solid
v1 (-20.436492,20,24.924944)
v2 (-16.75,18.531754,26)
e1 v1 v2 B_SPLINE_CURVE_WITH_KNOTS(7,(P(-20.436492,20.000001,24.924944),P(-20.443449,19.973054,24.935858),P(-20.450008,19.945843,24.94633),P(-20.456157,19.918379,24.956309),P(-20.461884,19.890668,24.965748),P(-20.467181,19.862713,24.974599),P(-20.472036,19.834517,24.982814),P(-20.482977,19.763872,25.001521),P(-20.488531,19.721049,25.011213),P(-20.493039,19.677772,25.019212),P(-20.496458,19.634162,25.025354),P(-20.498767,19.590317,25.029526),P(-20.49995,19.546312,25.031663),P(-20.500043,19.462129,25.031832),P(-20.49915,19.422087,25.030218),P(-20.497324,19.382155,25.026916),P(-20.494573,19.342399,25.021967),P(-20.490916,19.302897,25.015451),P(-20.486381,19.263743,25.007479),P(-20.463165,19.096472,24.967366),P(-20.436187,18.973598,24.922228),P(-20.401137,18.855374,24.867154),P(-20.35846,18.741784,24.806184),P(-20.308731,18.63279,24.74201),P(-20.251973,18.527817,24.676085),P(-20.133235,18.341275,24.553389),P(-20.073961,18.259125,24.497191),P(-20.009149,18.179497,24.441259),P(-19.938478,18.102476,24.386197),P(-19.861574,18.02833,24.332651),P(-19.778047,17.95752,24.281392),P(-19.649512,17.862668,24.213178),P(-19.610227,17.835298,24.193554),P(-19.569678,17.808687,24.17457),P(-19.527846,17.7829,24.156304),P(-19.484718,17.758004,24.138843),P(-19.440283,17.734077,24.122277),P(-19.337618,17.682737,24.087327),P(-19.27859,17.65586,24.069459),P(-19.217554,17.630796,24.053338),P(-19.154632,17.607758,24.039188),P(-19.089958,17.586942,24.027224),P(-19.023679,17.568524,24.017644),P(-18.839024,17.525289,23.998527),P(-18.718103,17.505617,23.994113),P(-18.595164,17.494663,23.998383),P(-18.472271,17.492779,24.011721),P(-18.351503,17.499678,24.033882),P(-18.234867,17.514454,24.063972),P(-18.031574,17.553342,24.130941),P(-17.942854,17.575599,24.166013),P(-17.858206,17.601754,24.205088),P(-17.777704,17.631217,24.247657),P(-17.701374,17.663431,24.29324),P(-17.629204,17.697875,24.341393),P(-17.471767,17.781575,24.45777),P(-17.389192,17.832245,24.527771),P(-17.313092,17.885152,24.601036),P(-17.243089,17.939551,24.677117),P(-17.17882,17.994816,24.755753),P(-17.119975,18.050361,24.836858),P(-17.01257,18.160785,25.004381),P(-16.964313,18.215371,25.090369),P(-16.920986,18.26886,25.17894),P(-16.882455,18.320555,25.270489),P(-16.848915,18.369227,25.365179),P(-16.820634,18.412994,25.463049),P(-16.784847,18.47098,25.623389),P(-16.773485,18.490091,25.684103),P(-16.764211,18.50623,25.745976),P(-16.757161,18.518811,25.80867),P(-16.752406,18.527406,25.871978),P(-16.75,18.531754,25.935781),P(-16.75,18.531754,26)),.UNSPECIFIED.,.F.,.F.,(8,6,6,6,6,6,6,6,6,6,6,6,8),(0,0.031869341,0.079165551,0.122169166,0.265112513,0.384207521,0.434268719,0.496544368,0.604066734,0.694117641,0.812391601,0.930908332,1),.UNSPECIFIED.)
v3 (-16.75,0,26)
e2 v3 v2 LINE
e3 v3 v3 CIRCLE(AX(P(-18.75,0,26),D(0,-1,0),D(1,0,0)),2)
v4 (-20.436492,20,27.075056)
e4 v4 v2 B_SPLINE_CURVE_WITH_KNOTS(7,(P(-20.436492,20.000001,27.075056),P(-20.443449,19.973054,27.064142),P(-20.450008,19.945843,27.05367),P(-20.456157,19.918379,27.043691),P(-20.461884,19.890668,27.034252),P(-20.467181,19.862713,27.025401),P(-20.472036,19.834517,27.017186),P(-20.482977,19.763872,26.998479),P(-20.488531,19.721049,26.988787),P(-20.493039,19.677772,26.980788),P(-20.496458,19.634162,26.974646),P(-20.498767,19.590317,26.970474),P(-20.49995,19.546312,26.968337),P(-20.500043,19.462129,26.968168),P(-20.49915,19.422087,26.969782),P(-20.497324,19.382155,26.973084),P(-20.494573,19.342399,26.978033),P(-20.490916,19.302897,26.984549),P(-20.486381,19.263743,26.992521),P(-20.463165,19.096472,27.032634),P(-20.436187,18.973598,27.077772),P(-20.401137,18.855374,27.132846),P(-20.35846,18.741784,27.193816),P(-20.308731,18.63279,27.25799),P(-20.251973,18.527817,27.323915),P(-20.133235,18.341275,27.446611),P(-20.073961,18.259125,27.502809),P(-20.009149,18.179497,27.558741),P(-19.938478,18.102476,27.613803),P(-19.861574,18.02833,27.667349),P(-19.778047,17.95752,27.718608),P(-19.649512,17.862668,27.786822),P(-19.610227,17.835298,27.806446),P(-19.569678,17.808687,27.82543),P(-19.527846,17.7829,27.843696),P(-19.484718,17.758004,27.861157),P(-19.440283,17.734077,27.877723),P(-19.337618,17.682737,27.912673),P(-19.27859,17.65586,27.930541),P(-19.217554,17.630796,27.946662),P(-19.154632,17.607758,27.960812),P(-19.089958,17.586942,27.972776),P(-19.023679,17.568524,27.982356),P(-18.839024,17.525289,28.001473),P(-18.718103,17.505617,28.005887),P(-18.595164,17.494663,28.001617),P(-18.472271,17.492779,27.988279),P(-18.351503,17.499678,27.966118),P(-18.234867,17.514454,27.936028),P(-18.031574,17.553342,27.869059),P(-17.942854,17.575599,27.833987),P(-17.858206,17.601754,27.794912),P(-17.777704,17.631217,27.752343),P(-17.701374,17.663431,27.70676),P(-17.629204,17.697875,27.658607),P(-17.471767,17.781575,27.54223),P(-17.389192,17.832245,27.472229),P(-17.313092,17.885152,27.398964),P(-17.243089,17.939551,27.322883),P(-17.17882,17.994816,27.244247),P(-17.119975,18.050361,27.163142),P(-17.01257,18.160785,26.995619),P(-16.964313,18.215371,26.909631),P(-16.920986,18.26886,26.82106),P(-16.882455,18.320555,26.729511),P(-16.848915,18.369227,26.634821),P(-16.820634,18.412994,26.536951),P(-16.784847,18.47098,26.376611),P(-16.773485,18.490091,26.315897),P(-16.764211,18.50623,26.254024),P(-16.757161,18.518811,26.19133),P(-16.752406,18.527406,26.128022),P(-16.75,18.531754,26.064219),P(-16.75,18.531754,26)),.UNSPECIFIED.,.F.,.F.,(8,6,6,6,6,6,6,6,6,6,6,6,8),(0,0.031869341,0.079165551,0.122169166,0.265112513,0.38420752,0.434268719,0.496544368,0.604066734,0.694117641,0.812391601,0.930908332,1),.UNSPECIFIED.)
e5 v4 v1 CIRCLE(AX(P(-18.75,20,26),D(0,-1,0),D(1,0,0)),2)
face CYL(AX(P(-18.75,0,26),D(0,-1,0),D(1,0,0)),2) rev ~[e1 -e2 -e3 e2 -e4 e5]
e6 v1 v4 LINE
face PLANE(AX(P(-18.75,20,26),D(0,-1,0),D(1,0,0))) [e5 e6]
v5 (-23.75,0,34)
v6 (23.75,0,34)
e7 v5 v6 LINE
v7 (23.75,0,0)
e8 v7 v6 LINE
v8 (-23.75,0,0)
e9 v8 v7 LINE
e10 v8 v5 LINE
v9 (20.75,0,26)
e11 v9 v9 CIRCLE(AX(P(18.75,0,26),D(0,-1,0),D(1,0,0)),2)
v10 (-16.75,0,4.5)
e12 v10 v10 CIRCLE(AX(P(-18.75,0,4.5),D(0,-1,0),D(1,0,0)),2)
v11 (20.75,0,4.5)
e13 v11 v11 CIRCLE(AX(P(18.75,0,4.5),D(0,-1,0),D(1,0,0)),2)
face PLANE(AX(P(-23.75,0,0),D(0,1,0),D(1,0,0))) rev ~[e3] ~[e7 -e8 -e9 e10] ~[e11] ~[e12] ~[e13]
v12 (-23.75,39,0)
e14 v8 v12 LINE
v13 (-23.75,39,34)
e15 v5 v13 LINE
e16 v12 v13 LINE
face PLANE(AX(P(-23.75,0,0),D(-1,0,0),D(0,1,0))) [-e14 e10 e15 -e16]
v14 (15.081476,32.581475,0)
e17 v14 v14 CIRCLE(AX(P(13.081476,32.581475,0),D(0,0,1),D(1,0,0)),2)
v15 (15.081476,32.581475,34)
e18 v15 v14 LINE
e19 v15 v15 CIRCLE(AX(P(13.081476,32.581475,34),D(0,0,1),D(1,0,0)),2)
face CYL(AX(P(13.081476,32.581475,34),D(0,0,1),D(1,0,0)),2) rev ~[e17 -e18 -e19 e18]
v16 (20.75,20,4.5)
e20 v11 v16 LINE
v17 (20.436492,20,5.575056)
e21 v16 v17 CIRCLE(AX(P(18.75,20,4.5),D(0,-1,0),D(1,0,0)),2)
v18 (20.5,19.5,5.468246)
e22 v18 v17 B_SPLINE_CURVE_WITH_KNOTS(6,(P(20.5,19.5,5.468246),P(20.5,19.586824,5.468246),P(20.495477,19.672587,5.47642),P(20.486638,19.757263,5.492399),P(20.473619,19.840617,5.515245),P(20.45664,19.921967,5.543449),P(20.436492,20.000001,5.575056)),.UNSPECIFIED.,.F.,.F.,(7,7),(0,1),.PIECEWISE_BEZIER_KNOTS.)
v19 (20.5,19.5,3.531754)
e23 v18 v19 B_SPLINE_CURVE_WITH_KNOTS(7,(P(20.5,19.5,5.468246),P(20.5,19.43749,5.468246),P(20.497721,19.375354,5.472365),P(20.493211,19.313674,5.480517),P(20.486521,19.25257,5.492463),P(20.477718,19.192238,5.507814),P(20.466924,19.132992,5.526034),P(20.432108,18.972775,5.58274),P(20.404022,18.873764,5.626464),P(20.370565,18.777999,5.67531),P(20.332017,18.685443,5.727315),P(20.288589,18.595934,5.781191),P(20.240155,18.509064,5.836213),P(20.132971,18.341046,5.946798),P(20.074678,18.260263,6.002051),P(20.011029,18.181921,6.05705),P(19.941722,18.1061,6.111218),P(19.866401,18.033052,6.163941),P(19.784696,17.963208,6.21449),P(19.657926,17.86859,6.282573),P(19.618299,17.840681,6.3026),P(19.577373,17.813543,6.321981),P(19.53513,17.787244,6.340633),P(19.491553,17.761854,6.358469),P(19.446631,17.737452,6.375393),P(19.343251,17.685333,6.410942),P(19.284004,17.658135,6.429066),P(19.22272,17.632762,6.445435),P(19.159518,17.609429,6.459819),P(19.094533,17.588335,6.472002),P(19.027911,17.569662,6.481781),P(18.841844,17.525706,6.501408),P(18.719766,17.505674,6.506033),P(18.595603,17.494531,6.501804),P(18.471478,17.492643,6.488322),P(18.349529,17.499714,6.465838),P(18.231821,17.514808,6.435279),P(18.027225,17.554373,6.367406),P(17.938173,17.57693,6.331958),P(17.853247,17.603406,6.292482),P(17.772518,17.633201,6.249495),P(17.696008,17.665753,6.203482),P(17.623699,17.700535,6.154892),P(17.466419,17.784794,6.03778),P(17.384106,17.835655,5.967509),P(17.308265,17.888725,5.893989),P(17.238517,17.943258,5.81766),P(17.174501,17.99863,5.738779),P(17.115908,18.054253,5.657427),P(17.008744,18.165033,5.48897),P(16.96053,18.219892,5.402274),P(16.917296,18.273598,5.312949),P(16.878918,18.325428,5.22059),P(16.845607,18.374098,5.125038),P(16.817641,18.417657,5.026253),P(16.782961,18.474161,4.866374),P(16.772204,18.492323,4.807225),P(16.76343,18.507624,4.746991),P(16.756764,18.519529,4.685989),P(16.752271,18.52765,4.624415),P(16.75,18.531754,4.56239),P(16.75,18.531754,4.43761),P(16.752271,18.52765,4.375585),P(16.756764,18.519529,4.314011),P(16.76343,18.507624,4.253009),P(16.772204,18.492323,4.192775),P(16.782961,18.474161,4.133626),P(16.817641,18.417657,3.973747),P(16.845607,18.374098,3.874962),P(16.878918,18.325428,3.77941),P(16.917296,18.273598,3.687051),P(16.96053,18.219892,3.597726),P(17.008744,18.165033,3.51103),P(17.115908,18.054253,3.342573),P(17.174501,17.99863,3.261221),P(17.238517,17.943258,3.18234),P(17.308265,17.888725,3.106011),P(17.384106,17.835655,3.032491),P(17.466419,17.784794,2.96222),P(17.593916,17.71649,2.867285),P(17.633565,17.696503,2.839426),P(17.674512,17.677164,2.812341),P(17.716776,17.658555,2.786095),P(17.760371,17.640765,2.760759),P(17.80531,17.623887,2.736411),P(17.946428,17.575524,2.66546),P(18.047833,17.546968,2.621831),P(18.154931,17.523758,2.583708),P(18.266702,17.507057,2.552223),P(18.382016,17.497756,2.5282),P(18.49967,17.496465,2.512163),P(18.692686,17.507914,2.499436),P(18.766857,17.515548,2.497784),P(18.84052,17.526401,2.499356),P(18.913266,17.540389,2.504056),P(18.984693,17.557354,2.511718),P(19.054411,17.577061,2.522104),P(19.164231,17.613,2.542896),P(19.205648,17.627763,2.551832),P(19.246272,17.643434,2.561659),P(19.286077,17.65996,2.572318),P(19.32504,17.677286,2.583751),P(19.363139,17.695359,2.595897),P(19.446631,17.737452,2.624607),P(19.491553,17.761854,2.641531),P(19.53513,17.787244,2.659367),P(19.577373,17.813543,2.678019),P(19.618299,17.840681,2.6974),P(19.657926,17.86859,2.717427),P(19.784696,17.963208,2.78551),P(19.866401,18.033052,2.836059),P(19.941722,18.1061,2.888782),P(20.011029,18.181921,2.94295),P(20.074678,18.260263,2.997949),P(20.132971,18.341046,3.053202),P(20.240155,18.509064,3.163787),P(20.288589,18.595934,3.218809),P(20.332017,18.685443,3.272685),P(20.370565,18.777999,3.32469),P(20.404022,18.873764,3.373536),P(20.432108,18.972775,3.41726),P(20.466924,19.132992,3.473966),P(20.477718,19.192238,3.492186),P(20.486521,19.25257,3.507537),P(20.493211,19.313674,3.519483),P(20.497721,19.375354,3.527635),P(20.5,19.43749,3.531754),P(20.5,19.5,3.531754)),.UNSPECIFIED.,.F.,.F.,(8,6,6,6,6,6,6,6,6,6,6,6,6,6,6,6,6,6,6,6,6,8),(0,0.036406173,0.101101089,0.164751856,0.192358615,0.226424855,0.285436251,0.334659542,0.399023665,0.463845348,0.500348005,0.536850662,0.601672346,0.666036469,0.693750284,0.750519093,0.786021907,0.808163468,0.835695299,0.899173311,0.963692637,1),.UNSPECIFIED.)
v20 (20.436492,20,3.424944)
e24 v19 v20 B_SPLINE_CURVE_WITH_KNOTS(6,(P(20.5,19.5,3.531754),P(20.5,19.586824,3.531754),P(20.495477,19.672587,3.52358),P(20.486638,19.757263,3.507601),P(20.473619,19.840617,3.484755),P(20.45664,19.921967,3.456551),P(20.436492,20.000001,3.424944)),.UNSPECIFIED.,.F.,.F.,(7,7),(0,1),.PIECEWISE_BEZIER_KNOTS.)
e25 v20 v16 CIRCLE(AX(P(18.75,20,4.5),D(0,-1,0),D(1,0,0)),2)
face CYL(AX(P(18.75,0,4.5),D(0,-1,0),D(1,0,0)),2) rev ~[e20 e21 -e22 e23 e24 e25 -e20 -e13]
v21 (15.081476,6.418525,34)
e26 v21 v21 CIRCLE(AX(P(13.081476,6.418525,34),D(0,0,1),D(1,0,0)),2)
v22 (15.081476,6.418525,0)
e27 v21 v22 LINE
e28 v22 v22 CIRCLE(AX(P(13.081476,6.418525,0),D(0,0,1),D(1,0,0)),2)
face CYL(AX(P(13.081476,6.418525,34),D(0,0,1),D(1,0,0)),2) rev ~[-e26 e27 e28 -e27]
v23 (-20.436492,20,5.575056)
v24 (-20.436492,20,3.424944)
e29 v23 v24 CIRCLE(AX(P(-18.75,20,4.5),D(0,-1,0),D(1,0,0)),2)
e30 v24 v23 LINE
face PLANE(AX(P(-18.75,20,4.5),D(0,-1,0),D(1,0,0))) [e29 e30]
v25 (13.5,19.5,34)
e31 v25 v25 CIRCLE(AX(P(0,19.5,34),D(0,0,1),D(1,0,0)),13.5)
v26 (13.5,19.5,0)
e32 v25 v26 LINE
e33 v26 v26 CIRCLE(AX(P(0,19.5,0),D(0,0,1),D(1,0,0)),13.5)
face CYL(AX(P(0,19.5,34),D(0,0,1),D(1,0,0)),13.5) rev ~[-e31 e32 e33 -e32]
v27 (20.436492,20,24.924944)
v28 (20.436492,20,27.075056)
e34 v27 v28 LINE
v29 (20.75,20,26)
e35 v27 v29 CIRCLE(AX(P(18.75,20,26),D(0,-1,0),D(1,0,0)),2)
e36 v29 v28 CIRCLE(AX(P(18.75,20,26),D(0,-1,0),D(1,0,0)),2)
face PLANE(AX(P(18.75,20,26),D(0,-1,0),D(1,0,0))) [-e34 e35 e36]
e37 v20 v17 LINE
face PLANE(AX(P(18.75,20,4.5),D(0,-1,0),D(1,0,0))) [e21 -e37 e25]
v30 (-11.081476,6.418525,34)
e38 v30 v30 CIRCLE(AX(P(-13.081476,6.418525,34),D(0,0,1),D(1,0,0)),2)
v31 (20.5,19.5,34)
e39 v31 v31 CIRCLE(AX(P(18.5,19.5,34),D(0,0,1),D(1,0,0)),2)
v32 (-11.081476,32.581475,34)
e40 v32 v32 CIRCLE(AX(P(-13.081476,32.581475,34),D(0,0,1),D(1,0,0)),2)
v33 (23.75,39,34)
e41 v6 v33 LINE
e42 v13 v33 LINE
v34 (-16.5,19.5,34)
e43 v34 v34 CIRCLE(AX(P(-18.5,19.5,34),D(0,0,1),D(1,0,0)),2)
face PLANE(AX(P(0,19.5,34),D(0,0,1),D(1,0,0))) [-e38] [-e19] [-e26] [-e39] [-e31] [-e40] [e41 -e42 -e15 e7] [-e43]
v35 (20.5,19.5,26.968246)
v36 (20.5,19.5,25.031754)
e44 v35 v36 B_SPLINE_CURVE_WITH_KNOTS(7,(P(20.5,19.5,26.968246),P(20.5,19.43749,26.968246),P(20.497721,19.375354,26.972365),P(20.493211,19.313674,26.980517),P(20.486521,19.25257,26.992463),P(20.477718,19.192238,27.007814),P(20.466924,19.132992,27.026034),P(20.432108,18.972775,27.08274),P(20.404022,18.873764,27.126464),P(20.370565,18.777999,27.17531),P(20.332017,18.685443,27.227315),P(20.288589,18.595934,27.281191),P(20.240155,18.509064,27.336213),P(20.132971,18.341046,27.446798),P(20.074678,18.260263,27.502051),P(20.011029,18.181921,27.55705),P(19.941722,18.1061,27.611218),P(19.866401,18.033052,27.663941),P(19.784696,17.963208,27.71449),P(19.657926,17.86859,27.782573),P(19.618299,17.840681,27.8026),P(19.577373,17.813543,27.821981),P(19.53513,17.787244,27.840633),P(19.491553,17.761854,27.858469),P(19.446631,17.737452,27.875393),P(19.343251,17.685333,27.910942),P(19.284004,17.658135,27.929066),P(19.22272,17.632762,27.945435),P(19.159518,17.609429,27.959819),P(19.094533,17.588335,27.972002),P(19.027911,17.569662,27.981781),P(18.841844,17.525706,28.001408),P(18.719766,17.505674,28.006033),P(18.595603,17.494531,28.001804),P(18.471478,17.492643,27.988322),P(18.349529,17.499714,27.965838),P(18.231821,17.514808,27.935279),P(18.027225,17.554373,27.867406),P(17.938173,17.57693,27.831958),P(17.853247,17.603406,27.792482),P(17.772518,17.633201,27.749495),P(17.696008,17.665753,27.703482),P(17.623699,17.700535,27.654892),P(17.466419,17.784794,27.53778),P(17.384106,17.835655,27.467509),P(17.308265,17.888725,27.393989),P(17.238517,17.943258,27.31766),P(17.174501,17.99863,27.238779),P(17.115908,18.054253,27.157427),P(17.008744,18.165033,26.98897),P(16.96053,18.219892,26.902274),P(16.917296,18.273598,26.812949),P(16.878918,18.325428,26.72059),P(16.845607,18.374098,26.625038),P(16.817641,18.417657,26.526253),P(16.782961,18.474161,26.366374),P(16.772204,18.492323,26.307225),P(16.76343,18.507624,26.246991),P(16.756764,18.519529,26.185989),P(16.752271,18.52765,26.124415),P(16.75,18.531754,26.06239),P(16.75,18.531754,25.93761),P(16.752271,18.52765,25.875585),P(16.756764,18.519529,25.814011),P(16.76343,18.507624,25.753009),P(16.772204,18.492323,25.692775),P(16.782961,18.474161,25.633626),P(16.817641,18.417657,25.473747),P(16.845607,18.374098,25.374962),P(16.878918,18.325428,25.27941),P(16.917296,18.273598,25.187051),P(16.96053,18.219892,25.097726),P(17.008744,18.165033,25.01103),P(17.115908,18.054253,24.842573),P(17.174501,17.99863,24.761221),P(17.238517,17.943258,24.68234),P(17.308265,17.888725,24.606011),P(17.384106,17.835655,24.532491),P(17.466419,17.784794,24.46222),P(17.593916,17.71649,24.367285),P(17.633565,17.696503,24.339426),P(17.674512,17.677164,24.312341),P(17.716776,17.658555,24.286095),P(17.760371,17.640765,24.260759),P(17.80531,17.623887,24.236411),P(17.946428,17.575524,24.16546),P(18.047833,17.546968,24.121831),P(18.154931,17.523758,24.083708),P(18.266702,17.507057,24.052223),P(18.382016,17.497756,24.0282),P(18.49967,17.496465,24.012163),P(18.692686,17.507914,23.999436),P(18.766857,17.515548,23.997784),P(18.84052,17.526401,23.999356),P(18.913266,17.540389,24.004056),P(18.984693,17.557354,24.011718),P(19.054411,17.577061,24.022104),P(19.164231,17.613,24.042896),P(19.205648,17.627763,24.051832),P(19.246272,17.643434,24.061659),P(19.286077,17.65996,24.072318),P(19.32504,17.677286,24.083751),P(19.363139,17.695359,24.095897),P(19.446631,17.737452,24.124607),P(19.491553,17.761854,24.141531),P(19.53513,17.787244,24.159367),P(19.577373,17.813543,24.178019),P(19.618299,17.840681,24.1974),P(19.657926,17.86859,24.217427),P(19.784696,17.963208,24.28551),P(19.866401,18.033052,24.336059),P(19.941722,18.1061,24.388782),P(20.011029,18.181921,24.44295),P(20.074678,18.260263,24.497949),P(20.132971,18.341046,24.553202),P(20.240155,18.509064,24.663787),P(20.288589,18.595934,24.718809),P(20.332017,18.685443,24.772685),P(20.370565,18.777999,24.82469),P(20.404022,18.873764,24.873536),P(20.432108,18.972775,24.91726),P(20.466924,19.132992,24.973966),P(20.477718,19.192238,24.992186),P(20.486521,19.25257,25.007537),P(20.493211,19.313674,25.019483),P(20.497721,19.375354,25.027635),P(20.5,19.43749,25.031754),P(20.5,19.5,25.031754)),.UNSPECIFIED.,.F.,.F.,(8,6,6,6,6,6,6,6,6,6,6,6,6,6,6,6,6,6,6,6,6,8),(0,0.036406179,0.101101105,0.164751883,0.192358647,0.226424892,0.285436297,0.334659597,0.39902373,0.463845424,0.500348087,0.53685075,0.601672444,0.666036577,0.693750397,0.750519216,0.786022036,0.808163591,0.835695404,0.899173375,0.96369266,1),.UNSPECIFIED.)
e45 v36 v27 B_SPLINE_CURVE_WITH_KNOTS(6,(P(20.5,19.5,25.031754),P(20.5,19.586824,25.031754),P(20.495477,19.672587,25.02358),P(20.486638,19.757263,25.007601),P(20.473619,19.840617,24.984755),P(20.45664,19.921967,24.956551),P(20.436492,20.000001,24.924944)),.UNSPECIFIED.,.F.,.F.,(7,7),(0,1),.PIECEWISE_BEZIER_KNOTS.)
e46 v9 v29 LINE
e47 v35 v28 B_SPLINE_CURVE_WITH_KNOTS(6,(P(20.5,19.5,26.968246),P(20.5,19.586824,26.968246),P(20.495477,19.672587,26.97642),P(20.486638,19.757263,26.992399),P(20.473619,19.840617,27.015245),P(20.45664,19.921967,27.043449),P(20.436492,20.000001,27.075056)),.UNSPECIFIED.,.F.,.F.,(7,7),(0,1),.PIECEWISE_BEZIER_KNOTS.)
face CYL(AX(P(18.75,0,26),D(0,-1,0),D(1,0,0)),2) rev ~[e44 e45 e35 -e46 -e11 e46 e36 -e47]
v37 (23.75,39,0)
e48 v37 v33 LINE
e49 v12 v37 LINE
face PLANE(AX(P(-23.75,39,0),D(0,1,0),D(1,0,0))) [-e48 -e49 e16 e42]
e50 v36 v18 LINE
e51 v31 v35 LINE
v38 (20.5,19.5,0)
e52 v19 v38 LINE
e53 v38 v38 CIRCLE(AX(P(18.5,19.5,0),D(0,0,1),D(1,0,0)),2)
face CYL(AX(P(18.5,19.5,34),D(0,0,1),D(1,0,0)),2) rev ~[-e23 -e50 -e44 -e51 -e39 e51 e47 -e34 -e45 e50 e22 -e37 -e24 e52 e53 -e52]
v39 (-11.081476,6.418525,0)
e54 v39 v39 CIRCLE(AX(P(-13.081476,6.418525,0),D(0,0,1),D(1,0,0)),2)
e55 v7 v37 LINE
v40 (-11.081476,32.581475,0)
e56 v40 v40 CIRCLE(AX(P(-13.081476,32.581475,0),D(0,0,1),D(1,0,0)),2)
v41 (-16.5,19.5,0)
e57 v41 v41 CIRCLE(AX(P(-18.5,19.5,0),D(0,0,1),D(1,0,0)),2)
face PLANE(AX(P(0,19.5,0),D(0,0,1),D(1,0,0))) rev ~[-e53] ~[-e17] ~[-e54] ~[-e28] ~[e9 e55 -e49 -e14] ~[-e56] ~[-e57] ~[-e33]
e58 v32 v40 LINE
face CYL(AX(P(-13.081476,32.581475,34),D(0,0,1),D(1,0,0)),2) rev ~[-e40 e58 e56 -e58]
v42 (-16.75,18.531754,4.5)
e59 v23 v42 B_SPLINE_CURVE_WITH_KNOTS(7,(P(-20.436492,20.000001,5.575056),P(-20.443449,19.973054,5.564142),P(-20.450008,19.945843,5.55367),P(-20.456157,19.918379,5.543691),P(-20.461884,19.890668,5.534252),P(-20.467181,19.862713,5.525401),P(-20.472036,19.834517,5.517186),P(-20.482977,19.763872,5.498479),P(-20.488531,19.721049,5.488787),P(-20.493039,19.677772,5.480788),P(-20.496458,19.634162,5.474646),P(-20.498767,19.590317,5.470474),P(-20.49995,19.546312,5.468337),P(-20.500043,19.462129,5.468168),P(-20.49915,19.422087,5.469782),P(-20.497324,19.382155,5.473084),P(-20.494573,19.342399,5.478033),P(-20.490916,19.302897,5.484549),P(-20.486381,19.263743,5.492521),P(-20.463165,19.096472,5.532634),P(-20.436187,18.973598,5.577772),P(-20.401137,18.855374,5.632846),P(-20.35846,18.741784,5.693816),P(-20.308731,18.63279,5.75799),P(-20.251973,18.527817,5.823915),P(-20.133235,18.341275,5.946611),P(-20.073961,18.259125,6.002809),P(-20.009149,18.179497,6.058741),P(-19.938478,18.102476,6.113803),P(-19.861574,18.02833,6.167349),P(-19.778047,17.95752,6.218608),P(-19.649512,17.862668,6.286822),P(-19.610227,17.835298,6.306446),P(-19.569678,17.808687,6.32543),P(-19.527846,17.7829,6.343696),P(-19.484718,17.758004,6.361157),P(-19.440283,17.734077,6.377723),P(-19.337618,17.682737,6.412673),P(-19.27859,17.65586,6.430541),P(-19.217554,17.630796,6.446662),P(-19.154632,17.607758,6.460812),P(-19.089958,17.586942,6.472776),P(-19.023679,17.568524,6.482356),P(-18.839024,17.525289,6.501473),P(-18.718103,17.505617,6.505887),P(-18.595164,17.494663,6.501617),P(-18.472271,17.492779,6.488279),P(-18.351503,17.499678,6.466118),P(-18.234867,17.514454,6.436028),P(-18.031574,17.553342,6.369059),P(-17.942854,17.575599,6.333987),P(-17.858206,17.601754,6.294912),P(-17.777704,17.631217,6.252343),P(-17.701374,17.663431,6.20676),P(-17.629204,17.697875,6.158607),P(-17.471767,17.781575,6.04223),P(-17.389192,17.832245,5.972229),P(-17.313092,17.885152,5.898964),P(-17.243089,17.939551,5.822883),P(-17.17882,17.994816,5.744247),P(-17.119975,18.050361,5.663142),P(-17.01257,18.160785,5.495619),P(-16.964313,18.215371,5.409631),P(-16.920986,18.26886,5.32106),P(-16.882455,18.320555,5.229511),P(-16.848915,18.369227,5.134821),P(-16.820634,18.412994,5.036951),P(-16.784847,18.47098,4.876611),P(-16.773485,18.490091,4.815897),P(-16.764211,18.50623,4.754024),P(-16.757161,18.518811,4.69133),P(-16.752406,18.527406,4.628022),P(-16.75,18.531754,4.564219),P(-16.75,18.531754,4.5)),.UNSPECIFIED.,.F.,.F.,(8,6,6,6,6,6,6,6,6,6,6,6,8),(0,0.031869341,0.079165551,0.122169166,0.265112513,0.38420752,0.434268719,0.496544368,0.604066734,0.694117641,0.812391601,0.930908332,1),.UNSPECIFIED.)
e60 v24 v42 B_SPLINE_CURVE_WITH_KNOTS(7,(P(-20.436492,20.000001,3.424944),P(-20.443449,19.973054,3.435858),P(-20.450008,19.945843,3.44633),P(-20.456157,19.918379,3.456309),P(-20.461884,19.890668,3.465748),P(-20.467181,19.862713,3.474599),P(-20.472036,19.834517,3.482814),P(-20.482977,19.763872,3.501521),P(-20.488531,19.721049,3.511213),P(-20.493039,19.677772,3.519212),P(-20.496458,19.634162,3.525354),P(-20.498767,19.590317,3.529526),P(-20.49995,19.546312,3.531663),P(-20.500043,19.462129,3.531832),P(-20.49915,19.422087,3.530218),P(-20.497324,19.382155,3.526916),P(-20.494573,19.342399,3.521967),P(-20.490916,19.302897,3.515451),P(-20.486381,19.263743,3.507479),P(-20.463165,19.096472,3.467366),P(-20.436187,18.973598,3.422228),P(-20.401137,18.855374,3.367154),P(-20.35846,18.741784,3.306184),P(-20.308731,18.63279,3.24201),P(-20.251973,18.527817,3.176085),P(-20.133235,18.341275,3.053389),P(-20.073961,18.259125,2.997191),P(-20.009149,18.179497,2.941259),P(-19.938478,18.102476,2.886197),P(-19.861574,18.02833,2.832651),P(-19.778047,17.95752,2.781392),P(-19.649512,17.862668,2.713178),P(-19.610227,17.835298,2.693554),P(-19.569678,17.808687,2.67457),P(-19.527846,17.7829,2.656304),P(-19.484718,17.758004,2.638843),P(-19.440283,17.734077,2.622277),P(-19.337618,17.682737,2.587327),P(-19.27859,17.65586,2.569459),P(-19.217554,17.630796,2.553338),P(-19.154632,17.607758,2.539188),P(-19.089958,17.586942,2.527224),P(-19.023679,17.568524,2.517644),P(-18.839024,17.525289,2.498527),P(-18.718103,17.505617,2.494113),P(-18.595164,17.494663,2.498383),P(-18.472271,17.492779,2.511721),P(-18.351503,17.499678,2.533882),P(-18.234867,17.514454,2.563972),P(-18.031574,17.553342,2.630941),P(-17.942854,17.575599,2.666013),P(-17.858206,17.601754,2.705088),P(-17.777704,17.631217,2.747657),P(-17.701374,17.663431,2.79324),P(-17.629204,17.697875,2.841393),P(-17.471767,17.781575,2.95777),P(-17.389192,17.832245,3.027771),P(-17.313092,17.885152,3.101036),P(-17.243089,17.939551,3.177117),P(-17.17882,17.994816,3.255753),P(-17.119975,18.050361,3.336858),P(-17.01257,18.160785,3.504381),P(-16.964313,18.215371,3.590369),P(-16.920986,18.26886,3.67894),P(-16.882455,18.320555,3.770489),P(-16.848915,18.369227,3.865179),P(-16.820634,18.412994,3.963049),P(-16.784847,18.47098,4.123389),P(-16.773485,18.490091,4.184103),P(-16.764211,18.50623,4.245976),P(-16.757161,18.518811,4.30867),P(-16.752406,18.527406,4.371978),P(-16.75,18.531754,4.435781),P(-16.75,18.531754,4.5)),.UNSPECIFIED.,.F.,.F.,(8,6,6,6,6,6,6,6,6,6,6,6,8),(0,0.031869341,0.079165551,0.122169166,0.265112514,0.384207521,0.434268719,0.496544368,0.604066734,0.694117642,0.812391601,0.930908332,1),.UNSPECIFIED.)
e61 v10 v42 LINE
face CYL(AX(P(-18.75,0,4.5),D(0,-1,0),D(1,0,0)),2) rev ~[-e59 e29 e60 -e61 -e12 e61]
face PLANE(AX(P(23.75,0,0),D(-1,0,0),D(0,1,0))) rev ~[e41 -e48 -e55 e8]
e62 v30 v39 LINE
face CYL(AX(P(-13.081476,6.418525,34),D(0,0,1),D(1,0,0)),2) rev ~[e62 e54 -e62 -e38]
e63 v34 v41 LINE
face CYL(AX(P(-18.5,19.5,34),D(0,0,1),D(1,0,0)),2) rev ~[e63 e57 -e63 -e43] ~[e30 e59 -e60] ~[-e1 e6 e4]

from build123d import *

# Parameters (mm, degrees)
SKETCH_W        = 47.5
SKETCH_H        = 39
PAD_DEPTH       = 34
SKETCH001_R     = 13.5
SKETCH001_R_2   = 2
POCKET_DEPTH    = 40
SKETCH002_R     = 2
POCKET001_DEPTH = 20


with BuildPart() as part:
    # Sketch → Pad (new body)
    with BuildSketch(Plane.XY):
        with Locations((0, 19.5)):
            Rectangle(SKETCH_W, SKETCH_H)
    extrude(amount=PAD_DEPTH)

    # Sketch001 → Pocket (cut)
    with BuildSketch(Plane.XY.offset(34)):
        with Locations((0, 19.5)):
            Circle(SKETCH001_R)
        with Locations((-18.5, 19.5)):
            Circle(SKETCH001_R_2)
        with Locations((18.5, 19.5)):
            Circle(SKETCH001_R_2)
        with Locations((13.081476, 6.418525)):
            Circle(SKETCH001_R_2)
        with Locations((13.081476, 32.581475)):
            Circle(SKETCH001_R_2)
        with Locations((-13.081476, 6.418525)):
            Circle(SKETCH001_R_2)
        with Locations((-13.081476, 32.581475)):
            Circle(SKETCH001_R_2)
    extrude(amount=-POCKET_DEPTH, mode=Mode.SUBTRACT)

    # Sketch002 → Pocket001 (cut)
    with BuildSketch(Plane.XZ):
        with Locations((18.75, 4.5)):
            Circle(SKETCH002_R)
        with Locations((-18.75, 4.5)):
            Circle(SKETCH002_R)
        with Locations((18.75, 26)):
            Circle(SKETCH002_R)
        with Locations((-18.75, 26)):
            Circle(SKETCH002_R)
    extrude(amount=-POCKET001_DEPTH, mode=Mode.SUBTRACT)


solid = part.part
